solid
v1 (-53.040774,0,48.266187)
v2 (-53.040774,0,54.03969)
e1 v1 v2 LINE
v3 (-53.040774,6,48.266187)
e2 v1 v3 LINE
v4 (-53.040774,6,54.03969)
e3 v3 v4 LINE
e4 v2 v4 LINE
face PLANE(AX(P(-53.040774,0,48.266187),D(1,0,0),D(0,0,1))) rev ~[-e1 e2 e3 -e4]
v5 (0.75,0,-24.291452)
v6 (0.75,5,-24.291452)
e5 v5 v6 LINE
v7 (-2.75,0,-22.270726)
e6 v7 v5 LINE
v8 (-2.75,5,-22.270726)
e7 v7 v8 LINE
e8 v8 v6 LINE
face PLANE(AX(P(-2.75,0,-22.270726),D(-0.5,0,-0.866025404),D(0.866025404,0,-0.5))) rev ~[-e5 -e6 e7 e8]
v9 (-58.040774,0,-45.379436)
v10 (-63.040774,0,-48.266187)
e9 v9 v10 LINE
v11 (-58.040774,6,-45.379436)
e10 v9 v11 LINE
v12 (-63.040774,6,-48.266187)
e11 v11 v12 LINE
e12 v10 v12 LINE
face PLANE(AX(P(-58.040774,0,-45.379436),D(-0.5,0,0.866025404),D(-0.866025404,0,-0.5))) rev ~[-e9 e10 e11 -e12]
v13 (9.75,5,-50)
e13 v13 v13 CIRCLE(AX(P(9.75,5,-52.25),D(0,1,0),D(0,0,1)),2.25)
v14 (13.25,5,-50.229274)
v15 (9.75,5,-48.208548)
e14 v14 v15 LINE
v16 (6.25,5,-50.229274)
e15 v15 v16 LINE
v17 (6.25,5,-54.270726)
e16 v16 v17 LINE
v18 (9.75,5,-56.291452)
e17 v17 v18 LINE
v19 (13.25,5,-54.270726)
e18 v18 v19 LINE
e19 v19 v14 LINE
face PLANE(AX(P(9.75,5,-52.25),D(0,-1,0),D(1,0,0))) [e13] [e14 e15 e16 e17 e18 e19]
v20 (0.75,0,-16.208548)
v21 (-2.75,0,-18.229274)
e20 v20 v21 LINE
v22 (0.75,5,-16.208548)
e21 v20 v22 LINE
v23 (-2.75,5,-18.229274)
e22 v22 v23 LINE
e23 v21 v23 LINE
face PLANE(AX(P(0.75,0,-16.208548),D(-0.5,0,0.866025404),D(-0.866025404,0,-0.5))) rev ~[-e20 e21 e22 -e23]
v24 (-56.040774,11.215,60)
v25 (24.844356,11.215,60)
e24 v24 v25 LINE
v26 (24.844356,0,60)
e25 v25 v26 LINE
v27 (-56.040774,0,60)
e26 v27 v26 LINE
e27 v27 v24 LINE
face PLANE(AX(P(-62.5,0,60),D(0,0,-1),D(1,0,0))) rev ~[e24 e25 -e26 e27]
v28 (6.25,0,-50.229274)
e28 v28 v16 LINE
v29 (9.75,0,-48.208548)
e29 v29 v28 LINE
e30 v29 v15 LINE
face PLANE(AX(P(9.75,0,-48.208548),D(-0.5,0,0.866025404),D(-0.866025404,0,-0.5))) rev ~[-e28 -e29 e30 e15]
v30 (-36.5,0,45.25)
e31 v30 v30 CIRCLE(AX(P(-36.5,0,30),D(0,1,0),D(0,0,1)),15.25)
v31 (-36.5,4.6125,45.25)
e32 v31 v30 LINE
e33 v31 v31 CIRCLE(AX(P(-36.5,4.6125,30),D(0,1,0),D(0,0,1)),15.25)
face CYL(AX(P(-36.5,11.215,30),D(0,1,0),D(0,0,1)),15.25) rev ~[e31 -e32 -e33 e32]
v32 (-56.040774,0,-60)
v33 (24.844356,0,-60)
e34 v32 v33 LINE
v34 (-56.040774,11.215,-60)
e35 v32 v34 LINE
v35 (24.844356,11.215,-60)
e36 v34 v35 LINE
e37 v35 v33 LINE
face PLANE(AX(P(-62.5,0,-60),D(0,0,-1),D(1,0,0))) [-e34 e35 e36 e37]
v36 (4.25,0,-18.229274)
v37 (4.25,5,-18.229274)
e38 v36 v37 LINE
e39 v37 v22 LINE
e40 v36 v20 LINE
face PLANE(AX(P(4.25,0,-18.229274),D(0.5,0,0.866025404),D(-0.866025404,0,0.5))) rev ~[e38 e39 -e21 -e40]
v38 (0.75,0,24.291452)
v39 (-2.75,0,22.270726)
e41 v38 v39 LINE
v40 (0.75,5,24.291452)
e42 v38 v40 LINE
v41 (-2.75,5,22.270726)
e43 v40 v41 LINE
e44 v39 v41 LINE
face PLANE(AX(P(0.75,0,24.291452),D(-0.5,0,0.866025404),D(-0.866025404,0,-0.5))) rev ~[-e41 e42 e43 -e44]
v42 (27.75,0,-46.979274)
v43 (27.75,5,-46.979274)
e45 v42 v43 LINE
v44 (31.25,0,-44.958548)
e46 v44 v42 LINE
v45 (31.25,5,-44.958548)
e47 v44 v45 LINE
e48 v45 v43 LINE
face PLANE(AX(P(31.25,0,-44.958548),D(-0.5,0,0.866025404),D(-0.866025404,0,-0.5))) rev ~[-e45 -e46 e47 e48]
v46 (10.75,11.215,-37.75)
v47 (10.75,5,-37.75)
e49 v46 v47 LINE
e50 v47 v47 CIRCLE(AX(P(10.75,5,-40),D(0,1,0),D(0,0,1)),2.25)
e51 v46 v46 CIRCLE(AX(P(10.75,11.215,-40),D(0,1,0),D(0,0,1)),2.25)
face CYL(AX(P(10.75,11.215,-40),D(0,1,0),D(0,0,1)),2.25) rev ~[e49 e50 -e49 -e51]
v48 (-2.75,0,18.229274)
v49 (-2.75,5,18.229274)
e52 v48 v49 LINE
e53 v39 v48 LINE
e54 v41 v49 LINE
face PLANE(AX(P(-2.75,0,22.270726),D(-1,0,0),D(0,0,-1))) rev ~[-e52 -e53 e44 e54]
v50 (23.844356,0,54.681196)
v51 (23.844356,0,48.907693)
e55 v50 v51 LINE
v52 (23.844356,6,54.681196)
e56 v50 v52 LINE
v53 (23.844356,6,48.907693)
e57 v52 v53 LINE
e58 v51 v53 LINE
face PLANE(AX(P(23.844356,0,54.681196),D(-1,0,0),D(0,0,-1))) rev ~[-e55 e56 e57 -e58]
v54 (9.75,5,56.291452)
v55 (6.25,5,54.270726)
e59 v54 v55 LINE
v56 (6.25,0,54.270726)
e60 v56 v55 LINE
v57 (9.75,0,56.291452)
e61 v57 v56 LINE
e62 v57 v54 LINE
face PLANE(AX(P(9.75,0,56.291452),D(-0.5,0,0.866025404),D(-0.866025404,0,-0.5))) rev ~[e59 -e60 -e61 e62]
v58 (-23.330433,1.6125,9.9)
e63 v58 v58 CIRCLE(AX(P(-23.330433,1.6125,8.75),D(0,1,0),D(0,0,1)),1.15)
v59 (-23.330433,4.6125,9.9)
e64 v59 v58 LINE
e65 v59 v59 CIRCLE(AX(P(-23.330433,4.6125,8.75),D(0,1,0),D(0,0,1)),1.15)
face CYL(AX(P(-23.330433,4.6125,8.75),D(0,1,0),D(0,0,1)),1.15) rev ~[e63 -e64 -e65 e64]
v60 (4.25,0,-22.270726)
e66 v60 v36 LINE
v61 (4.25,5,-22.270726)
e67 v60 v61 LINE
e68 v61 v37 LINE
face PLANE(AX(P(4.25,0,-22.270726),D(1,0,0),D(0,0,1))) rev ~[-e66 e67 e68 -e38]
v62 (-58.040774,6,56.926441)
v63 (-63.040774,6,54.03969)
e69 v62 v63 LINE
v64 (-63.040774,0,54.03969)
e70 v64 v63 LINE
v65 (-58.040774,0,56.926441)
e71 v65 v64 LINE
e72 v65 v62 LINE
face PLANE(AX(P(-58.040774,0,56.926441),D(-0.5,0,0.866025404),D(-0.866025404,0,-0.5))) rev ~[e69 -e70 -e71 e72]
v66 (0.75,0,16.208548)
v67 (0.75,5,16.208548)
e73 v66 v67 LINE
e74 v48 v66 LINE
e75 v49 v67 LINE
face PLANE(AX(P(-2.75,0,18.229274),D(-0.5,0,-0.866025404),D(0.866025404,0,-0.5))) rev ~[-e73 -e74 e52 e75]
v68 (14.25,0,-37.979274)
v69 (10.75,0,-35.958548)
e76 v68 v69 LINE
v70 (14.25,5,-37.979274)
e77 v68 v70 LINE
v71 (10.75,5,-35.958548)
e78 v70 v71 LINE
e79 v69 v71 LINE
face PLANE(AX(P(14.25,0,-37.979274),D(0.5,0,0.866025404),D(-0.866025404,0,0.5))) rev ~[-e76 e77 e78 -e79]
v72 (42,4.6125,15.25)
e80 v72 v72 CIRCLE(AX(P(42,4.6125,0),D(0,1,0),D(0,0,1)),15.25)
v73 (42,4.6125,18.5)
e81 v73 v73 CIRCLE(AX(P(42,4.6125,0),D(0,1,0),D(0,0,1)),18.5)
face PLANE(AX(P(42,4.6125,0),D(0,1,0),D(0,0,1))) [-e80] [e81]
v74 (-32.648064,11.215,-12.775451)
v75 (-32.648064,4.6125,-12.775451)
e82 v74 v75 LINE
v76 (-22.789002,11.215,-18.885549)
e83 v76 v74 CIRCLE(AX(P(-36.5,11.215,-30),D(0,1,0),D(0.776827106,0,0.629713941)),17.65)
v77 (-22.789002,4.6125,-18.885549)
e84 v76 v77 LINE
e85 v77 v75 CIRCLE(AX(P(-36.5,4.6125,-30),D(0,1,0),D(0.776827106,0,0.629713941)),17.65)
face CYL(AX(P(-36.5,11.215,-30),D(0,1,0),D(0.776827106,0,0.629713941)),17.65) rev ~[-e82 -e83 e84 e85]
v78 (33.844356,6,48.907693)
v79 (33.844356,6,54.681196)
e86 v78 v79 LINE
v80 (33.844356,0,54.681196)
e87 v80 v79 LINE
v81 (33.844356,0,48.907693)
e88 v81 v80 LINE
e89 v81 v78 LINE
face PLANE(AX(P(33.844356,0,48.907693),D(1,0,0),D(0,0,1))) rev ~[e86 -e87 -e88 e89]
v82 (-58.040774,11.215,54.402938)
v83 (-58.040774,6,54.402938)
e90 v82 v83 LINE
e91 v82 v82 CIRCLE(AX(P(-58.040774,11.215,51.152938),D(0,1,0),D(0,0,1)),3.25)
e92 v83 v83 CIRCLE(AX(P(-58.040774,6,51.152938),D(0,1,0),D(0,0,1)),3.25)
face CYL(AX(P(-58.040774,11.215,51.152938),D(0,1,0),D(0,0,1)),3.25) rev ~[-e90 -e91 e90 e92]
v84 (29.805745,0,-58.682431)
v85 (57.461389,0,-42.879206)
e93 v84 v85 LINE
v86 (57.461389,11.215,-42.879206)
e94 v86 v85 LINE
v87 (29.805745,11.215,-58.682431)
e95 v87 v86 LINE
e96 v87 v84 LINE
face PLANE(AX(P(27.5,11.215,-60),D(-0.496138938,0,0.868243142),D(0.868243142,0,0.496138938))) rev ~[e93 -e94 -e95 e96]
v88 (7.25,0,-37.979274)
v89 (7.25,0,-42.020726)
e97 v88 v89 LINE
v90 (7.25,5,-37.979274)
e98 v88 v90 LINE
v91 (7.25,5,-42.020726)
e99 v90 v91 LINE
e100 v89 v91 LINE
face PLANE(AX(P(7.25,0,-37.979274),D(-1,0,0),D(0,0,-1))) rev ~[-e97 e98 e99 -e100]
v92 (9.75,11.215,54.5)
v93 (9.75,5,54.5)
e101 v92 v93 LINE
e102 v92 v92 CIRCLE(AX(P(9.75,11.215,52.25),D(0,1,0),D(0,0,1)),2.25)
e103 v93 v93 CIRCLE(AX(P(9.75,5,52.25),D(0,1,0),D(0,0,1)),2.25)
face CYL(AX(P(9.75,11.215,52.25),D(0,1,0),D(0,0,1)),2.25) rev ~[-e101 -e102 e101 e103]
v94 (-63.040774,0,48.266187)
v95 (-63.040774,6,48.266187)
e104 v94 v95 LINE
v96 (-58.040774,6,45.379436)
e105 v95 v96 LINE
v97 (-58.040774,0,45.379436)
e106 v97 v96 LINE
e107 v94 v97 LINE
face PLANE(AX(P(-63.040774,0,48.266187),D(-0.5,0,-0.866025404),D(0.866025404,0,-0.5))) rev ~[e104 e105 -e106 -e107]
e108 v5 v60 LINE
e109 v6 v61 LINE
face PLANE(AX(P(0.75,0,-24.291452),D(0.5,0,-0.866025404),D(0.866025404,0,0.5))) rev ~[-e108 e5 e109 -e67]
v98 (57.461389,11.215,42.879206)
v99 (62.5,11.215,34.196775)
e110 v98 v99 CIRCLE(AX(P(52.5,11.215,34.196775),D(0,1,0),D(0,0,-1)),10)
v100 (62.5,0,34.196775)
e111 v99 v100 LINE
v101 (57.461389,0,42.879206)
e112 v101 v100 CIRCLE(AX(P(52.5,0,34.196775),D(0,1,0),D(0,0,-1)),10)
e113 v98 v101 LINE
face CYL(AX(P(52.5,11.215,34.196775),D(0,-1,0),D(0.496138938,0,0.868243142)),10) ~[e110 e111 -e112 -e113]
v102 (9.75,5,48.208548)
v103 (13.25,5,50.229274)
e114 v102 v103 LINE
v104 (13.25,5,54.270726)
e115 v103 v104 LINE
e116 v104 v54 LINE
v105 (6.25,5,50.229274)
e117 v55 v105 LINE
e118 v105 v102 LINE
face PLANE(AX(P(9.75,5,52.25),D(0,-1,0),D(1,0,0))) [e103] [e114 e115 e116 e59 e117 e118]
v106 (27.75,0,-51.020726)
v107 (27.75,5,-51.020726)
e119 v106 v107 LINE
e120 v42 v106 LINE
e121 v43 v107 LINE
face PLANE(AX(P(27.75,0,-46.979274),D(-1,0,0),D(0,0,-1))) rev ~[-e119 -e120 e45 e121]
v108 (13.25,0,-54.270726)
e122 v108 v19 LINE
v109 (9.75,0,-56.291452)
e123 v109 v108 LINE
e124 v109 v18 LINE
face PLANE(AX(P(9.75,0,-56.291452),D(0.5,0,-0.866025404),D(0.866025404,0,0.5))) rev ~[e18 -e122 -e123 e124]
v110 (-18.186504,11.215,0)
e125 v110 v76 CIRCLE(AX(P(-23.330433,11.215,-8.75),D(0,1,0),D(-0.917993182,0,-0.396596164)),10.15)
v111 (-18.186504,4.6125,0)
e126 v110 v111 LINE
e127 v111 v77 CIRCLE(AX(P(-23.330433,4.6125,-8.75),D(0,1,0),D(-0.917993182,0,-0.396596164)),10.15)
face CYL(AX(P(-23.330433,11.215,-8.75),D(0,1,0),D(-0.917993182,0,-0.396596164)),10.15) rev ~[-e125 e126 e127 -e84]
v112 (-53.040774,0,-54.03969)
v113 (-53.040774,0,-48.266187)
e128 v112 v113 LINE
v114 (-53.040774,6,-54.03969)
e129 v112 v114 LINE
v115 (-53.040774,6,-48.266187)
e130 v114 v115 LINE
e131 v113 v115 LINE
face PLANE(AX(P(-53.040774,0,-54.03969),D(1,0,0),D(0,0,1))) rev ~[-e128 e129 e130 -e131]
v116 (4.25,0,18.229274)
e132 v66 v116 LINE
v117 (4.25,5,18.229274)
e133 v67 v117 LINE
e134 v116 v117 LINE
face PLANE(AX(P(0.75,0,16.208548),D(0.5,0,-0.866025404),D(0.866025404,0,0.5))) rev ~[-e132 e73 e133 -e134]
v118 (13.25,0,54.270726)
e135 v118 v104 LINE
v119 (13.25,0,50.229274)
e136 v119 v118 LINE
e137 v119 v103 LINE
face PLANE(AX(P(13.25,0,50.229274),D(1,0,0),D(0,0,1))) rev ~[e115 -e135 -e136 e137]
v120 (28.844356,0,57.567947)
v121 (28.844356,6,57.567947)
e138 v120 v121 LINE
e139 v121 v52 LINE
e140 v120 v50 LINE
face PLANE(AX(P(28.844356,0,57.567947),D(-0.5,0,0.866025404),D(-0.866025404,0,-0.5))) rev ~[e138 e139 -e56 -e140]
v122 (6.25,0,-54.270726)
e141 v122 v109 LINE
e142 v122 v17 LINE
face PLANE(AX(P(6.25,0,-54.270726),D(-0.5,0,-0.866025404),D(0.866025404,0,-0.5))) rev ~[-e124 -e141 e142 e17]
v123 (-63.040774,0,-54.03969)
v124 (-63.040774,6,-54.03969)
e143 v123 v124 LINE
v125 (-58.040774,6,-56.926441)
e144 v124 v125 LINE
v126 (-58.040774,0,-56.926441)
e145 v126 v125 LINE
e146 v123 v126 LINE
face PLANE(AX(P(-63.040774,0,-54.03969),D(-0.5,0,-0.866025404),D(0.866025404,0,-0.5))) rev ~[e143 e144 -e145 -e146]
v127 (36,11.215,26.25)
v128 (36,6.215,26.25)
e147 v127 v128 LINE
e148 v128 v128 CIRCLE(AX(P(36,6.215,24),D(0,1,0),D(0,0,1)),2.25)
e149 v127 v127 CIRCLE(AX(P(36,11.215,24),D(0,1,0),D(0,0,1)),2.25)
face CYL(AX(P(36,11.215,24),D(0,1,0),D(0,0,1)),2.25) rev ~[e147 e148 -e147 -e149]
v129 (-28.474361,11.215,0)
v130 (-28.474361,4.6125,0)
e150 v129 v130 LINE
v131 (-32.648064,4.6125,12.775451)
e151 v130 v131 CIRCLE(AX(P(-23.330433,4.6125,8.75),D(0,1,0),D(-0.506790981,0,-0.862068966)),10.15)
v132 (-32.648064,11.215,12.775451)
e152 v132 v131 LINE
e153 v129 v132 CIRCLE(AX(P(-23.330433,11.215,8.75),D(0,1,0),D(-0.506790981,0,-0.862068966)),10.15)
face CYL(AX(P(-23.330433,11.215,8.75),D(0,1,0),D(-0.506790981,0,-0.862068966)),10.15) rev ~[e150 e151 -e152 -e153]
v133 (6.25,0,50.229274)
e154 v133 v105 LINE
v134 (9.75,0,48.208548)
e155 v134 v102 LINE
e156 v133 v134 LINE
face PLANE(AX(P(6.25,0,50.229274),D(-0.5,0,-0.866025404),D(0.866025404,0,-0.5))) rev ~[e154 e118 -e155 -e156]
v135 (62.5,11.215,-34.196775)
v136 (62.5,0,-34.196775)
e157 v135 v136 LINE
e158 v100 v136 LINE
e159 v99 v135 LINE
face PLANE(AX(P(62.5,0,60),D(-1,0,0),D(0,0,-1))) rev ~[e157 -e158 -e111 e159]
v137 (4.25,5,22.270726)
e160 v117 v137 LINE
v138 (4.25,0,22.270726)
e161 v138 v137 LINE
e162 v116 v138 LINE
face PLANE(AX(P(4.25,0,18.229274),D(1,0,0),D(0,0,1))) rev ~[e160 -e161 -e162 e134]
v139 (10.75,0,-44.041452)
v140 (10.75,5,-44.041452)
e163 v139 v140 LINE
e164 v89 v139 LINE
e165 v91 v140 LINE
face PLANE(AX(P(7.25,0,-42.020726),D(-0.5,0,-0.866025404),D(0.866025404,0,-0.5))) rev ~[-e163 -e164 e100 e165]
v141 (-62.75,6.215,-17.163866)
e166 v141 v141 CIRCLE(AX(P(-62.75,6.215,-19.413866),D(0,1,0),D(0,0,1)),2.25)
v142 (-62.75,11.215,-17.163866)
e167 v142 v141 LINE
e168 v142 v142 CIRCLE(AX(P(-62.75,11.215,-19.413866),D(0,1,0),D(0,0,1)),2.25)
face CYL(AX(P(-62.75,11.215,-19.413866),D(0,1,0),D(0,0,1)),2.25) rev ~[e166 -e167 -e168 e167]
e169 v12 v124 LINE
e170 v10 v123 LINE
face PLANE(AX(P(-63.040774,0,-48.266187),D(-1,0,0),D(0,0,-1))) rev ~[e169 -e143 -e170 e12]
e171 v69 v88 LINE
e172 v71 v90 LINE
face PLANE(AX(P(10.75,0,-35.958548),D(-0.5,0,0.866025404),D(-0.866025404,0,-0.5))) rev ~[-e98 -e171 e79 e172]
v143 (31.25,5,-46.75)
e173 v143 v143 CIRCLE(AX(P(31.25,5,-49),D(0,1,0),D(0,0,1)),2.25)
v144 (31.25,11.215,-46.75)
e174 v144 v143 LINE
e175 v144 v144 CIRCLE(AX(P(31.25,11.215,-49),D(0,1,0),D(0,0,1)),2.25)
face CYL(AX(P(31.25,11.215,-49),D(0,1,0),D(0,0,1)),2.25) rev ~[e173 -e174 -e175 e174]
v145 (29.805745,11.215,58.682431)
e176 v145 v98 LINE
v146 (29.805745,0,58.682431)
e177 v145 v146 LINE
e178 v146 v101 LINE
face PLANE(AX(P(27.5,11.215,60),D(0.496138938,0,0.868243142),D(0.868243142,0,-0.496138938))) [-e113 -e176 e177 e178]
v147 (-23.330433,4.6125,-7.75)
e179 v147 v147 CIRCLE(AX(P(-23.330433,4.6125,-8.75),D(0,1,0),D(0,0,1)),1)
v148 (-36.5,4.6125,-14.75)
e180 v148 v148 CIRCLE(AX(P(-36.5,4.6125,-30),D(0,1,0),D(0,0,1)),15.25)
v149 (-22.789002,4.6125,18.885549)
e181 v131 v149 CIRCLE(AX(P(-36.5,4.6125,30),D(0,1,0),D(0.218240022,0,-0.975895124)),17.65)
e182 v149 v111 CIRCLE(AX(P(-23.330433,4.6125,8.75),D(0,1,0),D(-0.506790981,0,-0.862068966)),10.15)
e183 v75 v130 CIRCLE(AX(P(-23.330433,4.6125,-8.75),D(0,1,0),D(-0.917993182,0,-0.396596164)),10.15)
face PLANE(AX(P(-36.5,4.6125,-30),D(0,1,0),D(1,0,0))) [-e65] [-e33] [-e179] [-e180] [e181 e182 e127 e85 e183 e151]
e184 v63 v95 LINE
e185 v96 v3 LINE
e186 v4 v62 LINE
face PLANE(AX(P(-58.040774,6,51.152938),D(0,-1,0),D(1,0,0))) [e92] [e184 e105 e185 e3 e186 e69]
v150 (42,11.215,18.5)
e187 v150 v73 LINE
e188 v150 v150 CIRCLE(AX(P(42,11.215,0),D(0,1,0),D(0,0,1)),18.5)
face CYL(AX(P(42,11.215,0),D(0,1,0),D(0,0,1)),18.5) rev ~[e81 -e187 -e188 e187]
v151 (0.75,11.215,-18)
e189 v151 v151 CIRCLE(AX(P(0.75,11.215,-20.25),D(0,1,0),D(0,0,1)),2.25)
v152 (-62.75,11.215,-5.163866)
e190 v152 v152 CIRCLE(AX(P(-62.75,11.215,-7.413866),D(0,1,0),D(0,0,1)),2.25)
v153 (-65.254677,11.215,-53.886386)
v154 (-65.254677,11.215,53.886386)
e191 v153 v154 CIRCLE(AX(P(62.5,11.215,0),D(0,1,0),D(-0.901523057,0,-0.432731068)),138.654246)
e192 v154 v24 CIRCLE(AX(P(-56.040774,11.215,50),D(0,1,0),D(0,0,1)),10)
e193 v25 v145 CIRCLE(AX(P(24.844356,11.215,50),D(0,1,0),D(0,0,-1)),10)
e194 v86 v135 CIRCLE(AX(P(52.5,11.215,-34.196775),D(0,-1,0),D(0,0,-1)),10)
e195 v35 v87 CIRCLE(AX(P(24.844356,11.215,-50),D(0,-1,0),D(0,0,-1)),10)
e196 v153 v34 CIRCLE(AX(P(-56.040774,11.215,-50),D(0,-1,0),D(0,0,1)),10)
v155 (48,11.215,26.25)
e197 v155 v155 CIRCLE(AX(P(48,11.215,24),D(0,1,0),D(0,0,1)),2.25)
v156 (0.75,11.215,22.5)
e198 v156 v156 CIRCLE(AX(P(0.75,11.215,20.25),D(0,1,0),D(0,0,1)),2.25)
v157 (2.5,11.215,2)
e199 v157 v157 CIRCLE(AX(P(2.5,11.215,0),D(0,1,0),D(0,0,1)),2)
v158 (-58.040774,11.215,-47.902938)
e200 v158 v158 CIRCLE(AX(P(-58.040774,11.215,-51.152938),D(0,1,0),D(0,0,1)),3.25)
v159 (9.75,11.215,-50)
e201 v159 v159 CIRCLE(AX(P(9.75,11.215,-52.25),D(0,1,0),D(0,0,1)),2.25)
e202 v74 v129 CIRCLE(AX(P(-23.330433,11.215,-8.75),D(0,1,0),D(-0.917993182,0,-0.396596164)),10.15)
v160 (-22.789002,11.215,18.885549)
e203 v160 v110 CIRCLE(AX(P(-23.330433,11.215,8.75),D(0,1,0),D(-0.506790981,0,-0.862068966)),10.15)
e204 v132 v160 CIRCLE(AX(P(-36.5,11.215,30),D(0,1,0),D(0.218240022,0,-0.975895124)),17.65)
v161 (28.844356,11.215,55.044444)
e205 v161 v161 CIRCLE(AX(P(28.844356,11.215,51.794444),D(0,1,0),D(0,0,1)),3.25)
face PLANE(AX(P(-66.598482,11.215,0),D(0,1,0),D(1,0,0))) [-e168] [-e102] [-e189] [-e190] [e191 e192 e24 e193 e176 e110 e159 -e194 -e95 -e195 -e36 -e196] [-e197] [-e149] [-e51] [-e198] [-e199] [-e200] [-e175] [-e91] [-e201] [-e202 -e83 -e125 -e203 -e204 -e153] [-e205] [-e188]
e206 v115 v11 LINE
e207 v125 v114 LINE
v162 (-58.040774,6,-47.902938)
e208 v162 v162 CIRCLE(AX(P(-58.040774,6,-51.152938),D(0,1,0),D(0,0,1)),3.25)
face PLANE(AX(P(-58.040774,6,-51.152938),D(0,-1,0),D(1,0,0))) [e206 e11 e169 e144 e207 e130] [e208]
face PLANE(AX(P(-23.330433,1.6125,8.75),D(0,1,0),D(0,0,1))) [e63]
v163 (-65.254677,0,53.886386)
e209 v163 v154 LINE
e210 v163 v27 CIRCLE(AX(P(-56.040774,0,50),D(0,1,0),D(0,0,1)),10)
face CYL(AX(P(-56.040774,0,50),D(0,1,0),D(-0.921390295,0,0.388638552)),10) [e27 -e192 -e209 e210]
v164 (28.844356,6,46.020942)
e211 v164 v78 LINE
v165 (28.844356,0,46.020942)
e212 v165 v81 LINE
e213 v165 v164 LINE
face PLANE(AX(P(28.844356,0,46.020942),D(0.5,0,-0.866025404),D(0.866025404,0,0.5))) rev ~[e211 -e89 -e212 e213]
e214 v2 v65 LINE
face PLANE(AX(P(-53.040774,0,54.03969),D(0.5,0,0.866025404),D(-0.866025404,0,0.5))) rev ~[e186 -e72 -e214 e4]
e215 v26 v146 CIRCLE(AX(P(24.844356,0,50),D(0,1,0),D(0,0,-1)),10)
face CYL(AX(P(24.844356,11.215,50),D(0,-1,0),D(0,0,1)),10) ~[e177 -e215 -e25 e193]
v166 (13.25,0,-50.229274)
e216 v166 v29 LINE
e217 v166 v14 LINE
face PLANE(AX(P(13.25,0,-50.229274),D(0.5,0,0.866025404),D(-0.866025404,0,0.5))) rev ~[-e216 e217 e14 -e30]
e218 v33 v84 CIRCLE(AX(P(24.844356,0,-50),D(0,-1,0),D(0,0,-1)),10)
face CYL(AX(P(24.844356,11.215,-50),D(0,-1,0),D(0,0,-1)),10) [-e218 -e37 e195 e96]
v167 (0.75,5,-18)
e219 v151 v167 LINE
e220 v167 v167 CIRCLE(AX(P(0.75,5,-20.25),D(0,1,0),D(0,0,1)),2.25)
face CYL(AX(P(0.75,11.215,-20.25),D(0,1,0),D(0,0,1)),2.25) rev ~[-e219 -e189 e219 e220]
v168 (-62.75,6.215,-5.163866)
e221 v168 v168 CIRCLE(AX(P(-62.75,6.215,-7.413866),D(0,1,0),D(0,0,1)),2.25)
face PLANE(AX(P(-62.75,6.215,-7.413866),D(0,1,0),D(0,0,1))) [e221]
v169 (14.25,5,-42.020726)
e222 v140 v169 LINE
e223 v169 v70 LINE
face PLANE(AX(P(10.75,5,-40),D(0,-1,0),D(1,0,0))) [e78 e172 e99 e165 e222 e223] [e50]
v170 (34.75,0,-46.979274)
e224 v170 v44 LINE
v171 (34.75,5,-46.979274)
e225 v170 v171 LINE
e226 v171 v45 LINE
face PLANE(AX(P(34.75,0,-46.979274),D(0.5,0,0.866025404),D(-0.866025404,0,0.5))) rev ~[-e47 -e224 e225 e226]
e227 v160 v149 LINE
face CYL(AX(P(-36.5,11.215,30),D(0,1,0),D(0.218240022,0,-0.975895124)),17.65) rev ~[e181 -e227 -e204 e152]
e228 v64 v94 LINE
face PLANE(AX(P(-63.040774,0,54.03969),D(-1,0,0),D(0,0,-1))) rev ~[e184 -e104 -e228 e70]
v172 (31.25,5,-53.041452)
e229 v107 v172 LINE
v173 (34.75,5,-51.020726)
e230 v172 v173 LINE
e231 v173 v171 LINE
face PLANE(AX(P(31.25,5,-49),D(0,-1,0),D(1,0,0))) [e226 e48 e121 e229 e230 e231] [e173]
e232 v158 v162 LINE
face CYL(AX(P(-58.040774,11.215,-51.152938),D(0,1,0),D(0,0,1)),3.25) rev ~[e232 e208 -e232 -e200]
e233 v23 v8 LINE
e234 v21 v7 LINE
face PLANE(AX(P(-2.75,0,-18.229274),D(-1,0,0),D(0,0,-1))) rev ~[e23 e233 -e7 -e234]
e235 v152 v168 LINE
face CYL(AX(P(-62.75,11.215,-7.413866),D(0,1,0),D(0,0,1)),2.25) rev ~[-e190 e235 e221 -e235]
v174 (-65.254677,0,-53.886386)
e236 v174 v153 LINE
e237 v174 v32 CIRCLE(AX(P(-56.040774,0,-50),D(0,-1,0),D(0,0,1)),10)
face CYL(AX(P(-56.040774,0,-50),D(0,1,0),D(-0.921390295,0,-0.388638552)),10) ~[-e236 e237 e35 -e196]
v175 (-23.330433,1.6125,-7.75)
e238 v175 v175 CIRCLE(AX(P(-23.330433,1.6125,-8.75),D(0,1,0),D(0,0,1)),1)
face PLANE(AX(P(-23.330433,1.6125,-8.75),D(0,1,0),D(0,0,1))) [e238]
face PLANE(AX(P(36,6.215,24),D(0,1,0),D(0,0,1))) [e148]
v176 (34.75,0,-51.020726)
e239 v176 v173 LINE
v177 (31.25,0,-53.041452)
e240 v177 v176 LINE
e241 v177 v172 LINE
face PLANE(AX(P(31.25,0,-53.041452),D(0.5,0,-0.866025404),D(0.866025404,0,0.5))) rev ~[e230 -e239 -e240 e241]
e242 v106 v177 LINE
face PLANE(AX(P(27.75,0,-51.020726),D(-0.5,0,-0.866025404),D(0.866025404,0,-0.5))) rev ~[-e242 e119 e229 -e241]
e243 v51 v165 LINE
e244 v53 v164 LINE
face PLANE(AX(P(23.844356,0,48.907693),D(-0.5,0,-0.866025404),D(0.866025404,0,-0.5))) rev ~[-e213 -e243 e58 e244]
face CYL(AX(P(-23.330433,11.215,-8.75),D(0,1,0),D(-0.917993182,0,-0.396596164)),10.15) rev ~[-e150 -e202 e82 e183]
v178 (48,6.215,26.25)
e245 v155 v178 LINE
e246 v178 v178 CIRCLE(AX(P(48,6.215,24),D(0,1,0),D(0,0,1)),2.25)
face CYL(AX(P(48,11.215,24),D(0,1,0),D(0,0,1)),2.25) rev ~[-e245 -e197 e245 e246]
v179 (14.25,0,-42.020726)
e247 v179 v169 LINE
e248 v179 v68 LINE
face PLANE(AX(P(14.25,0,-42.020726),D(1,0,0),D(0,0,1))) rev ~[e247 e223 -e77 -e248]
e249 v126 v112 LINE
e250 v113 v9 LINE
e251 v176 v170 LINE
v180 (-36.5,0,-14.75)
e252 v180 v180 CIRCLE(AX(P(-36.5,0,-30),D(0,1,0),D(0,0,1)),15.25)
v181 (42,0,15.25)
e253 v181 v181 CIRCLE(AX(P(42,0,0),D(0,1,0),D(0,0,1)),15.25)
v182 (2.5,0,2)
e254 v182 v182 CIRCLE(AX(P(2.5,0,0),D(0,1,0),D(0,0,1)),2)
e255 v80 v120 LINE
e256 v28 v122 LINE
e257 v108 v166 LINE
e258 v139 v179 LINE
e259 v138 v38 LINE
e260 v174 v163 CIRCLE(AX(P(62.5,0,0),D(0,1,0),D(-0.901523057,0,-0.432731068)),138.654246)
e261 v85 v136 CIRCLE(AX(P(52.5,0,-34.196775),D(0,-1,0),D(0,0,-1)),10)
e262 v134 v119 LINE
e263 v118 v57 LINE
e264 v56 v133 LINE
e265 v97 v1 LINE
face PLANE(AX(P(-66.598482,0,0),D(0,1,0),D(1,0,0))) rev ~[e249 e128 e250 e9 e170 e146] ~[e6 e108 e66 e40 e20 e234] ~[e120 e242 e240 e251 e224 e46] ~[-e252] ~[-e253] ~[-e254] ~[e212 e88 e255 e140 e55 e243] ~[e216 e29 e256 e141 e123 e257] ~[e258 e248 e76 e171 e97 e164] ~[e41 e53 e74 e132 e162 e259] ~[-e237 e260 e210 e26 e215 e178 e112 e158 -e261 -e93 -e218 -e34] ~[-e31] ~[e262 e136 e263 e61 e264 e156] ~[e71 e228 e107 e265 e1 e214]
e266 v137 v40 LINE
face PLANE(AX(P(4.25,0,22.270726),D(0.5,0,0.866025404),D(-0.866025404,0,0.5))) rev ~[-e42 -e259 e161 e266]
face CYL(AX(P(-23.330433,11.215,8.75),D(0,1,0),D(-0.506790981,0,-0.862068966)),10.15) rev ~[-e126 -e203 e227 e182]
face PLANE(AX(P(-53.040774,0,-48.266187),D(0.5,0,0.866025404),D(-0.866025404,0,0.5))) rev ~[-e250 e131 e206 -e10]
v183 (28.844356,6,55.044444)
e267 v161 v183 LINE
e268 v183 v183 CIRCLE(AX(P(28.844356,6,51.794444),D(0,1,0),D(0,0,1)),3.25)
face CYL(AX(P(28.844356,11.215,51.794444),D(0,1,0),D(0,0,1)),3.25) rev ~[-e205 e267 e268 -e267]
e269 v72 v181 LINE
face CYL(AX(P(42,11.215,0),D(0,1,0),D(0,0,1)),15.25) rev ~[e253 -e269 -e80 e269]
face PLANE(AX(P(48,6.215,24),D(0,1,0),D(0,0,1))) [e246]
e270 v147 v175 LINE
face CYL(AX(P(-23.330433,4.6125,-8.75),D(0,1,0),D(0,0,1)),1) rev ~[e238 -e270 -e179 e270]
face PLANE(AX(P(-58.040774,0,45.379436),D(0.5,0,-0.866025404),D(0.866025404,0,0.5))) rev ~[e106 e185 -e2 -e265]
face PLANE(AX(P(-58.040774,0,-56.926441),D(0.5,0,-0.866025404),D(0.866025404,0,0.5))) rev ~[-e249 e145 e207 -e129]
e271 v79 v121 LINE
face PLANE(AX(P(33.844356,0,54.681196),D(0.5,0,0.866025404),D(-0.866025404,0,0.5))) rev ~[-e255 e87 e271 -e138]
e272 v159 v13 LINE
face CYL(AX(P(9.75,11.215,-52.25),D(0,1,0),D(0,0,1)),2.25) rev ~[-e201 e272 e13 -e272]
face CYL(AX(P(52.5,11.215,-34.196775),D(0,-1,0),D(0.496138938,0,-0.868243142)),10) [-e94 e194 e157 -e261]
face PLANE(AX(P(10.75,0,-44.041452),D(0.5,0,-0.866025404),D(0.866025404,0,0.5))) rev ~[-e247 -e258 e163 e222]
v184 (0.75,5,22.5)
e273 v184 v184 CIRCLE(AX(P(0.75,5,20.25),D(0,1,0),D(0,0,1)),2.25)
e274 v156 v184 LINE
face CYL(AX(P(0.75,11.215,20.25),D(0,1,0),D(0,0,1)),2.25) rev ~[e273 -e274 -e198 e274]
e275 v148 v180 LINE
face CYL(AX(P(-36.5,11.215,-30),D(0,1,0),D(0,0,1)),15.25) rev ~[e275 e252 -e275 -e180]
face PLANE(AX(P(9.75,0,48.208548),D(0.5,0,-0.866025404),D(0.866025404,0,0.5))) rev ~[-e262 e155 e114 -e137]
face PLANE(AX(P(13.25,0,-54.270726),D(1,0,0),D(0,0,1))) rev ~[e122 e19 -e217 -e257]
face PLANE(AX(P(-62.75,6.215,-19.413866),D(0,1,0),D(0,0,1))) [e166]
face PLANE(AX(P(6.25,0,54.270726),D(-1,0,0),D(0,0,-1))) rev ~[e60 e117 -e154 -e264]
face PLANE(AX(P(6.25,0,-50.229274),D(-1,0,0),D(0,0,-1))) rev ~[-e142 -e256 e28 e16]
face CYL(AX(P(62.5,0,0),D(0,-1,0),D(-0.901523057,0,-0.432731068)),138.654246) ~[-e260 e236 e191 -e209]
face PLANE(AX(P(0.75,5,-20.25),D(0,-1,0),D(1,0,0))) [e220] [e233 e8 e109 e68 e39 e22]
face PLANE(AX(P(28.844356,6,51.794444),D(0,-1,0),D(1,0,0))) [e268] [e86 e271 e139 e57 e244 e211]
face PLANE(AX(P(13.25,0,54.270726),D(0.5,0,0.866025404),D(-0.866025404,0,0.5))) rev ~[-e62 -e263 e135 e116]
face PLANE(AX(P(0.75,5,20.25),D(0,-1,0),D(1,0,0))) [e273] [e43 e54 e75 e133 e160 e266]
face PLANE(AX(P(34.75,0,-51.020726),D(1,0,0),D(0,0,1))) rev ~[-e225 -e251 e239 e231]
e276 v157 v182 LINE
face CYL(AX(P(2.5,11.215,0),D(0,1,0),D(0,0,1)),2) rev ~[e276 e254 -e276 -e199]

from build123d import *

# Parameters (mm, degrees)
SKETCH1_W                        = 125
SKETCH1_H                        = 120
TEST_BASE_POSTION_DEPTH          = 11.215
SKETCH10_R                       = 15.25
CONNECT_FINGER_HOLES_DEPTH       = 98.597363925
SKETCH11_R                       = 18.5
XL320_FINGER_KNUCKLE_MOUNT_DEPTH = 6.6025
SKETCH24_R                       = 2.25
AX12_MOUNT_HOLES_M4_DEPTH        = 98.597363925
SKETCH21_R                       = 17.65
SKETCH21_R_2                     = 10.15
GEARS_HOLES_DEPTH                = 6.6025
SKETCH22_R                       = 1.15
GEARS_ROD_HOLES_DEPTH            = 3
CUT_EXTRUDE1_DEPTH               = 98.597363925
FILLET1_R                        = 10
SKETCH17_R                       = 3.25
CONNECT_HOLES_M6_DEPTH           = 98.597363925
NUTS_M6_DEPTH                    = 6
NUTS_M4_DEPTH                    = 5
SKETCH30_R                       = 2
CONNECT_TO_HOUSE_DEPTH           = 98.597363925
SKETCH31_R                       = 2.25
M4_EXTENSION_HOLE_DEPTH          = 5
SKETCH28_R                       = 1
M2_SHAFT_HOLE_DEPTH              = 3


with BuildPart() as part:
    # Sketch1 → Test_Base_Postion (new body)
    with BuildSketch(Plane(origin=(0, 0, 0), x_dir=(1, 0, 0), z_dir=(0, 1, 0))):
        with BuildLine():
            ThreePointArc((-62.5, 60), (-76.154246239, 0), (-62.5, -60))
            Line((-62.5, -60), (-62.5, 60))
        make_face()
        Rectangle(SKETCH1_W, SKETCH1_H)
    extrude(amount=TEST_BASE_POSTION_DEPTH)

    # Sketch10 → Connect_Finger_Holes (cut, through all)
    with BuildSketch(Plane(origin=(0, 11.215, 0), x_dir=(1, 0, 0), z_dir=(0, 1, 0))):
        with Locations(Location((-36.5, 30, 0), (0, 0, 270))):
            Circle(SKETCH10_R)
        with Locations(Location((-36.5, -30, 0), (0, 0, 270))):
            Circle(SKETCH10_R)
        with Locations(Location((42, 0, 0), (0, 0, 270))):
            Circle(SKETCH10_R)
    extrude(amount=-CONNECT_FINGER_HOLES_DEPTH, mode=Mode.SUBTRACT)

    # Sketch11 → XL320_Finger_Knuckle_Mount (cut)
    with BuildSketch(Plane(origin=(0, 11.215, 0), x_dir=(1, 0, 0), z_dir=(0, 1, 0))):
        with Locations(Location((42, 0, 0), (0, 0, 270))):
            Circle(SKETCH11_R)
    extrude(amount=-XL320_FINGER_KNUCKLE_MOUNT_DEPTH, mode=Mode.SUBTRACT)

    # Sketch24 → AX12_Mount_Holes_(M4) (cut, through all)
    with BuildSketch(Plane(origin=(0, 11.215, 0), x_dir=(1, 0, 0), z_dir=(0, 1, 0))):
        with Locations(Location((9.75, 52.25, 0), (0, 0, 270))):
            Circle(SKETCH24_R)
        with Locations(Location((0.75, 20.25, 0), (0, 0, 270))):
            Circle(SKETCH24_R)
        with Locations(Location((0.75, -20.25, 0), (0, 0, 270))):
            Circle(SKETCH24_R)
        with Locations(Location((9.75, -52.25, 0), (0, 0, 270))):
            Circle(SKETCH24_R)
        with Locations(Location((10.75, 40, 0), (0, 0, 270))):
            Circle(SKETCH24_R)
        with Locations(Location((31.25, 49, 0), (0, 0, 270))):
            Circle(SKETCH24_R)
    extrude(amount=-AX12_MOUNT_HOLES_M4_DEPTH, mode=Mode.SUBTRACT)

    # Sketch21 → Gears_Holes (cut)
    with BuildSketch(Plane(origin=(0, 11.215, 0), x_dir=(1, 0, 0), z_dir=(0, 1, 0))):
        with Locations((-36.5, 30)):
            Circle(SKETCH21_R)
        with Locations((-23.330432809, 8.75)):
            Circle(SKETCH21_R_2)
        with Locations((-23.330432809, -8.75)):
            Circle(SKETCH21_R_2)
        with Locations((-36.5, -30)):
            Circle(SKETCH21_R)
    extrude(amount=-GEARS_HOLES_DEPTH, mode=Mode.SUBTRACT)

    # Sketch22 → Gears_Rod_Holes (cut)
    with BuildSketch(Plane(origin=(0, 4.6125, 0), x_dir=(1, 0, 0), z_dir=(0, 1, 0))):
        with Locations(Location((-23.330432809, -8.75, 0), (0, 0, 270))):
            Circle(SKETCH22_R)
    extrude(amount=-GEARS_ROD_HOLES_DEPTH, mode=Mode.SUBTRACT)

    # Sketch29 → Cut-Extrude1 (cut, through all)
    with BuildSketch(Plane(origin=(0, 11.215, 0), x_dir=(1, 0, 0), z_dir=(0, 1, 0))):
        Polygon((27.5, 60), (62.5, 40), (62.5, 60), align=None)
        Polygon((62.5, -60), (27.5, -60), (62.5, -40), align=None)
    extrude(amount=-CUT_EXTRUDE1_DEPTH, mode=Mode.SUBTRACT)

    # Fillet1
    fillet1_edges = [part.edges().sort_by_distance(p)[0] for p in [
        (62.5, 5.6075, 40),
        (27.5, 5.6075, 60),
        (-62.5, 5.6075, -60),
        (-62.5, 5.6075, 60),
        (27.5, 5.6075, -60),
        (62.5, 5.6075, -40),
    ]]
    fillet(fillet1_edges, radius=FILLET1_R)

    # Sketch17 → Connect_Holes_(M6) (cut, through all)
    with BuildSketch(Plane(origin=(0, 11.215, 0), x_dir=(1, 0, 0), z_dir=(0, 1, 0))):
        with Locations(Location((-58.040773893, 51.152938298, 0), (0, 0, 270))):
            Circle(SKETCH17_R)
        with Locations(Location((-58.040773893, -51.152938298, 0), (0, 0, 270))):
            Circle(SKETCH17_R)
        with Locations(Location((28.844355629, -51.794444289, 0), (0, 0, 270))):
            Circle(SKETCH17_R)
    extrude(amount=-CONNECT_HOLES_M6_DEPTH, mode=Mode.SUBTRACT)

    # Sketch19 → Nuts_(M6) (cut)
    with BuildSketch(Plane.XZ):
        Polygon((-58.040773893, 56.92644099), (-63.040773893, 54.039689644), (-63.040773893, 48.266186952), (-58.040773893, 45.379435606), (-53.040773893, 48.266186952), (-53.040773893, 54.039689644), align=None)
        Polygon((28.844355629, 57.56794698), (23.844355629, 54.681195634), (23.844355629, 48.907692943), (28.844355629, 46.020941597), (33.844355629, 48.907692943), (33.844355629, 54.681195634), align=None)
        Polygon((-58.040773893, -45.379435606), (-63.040773893, -48.266186952), (-63.040773893, -54.039689644), (-58.040773893, -56.92644099), (-53.040773893, -54.039689644), (-53.040773893, -48.266186952), align=None)
    extrude(amount=-NUTS_M6_DEPTH, mode=Mode.SUBTRACT)

    # Sketch27 → Nuts_(M4) (cut)
    with BuildSketch(Plane.XZ):
        Polygon((9.75, 56.291451884), (6.25, 54.270725942), (6.25, 50.229274058), (9.75, 48.208548116), (13.25, 50.229274058), (13.25, 54.270725942), align=None)
        Polygon((-2.75, 22.270725942), (-2.75, 18.229274058), (0.75, 16.208548116), (4.25, 18.229274058), (4.25, 22.270725942), (0.75, 24.291451884), align=None)
        Polygon((-2.75, -22.270725942), (0.75, -24.291451884), (4.25, -22.270725942), (4.25, -18.229274058), (0.75, -16.208548116), (-2.75, -18.229274058), align=None)
        Polygon((6.25, -50.229274058), (6.25, -54.270725942), (9.75, -56.291451884), (13.25, -54.270725942), (13.25, -50.229274058), (9.75, -48.208548116), align=None)
        Polygon((14.25, -37.979274058), (10.75, -35.958548116), (7.25, -37.979274058), (7.25, -42.020725942), (10.75, -44.041451884), (14.25, -42.020725942), align=None)
        Polygon((27.75, -46.979274058), (27.75, -51.020725942), (31.25, -53.041451884), (34.75, -51.020725942), (34.75, -46.979274058), (31.25, -44.958548116), align=None)
    extrude(amount=-NUTS_M4_DEPTH, mode=Mode.SUBTRACT)

    # Sketch30 → Connect_To_House (cut, through all)
    with BuildSketch(Plane(origin=(0, 11.215, 0), x_dir=(1, 0, 0), z_dir=(0, 1, 0))):
        with Locations(Location((2.5, 0, 0), (0, 0, 270))):
            Circle(SKETCH30_R)
    extrude(amount=-CONNECT_TO_HOUSE_DEPTH, mode=Mode.SUBTRACT)

    # Sketch31 → M4_Extension_Hole (cut)
    with BuildSketch(Plane(origin=(0, 11.215, 0), x_dir=(1, 0, 0), z_dir=(0, 1, 0))):
        with Locations(Location((-62.75, 19.41386581, 0), (0, 0, 270))):
            Circle(SKETCH31_R)
        with Locations(Location((-62.75, 7.41386581, 0), (0, 0, 270))):
            Circle(SKETCH31_R)
        with Locations(Location((36, -24, 0), (0, 0, 270))):
            Circle(SKETCH31_R)
        with Locations(Location((48, -24, 0), (0, 0, 270))):
            Circle(SKETCH31_R)
    extrude(amount=-M4_EXTENSION_HOLE_DEPTH, mode=Mode.SUBTRACT)

    # Sketch28 → M2_Shaft_Hole (cut)
    with BuildSketch(Plane(origin=(0, 4.6125, 0), x_dir=(1, 0, 0), z_dir=(0, 1, 0))):
        with Locations(Location((-23.330432809, 8.75, 0), (0, 0, 270))):
            Circle(SKETCH28_R)
    extrude(amount=-M2_SHAFT_HOLE_DEPTH, mode=Mode.SUBTRACT)


solid = part.part
